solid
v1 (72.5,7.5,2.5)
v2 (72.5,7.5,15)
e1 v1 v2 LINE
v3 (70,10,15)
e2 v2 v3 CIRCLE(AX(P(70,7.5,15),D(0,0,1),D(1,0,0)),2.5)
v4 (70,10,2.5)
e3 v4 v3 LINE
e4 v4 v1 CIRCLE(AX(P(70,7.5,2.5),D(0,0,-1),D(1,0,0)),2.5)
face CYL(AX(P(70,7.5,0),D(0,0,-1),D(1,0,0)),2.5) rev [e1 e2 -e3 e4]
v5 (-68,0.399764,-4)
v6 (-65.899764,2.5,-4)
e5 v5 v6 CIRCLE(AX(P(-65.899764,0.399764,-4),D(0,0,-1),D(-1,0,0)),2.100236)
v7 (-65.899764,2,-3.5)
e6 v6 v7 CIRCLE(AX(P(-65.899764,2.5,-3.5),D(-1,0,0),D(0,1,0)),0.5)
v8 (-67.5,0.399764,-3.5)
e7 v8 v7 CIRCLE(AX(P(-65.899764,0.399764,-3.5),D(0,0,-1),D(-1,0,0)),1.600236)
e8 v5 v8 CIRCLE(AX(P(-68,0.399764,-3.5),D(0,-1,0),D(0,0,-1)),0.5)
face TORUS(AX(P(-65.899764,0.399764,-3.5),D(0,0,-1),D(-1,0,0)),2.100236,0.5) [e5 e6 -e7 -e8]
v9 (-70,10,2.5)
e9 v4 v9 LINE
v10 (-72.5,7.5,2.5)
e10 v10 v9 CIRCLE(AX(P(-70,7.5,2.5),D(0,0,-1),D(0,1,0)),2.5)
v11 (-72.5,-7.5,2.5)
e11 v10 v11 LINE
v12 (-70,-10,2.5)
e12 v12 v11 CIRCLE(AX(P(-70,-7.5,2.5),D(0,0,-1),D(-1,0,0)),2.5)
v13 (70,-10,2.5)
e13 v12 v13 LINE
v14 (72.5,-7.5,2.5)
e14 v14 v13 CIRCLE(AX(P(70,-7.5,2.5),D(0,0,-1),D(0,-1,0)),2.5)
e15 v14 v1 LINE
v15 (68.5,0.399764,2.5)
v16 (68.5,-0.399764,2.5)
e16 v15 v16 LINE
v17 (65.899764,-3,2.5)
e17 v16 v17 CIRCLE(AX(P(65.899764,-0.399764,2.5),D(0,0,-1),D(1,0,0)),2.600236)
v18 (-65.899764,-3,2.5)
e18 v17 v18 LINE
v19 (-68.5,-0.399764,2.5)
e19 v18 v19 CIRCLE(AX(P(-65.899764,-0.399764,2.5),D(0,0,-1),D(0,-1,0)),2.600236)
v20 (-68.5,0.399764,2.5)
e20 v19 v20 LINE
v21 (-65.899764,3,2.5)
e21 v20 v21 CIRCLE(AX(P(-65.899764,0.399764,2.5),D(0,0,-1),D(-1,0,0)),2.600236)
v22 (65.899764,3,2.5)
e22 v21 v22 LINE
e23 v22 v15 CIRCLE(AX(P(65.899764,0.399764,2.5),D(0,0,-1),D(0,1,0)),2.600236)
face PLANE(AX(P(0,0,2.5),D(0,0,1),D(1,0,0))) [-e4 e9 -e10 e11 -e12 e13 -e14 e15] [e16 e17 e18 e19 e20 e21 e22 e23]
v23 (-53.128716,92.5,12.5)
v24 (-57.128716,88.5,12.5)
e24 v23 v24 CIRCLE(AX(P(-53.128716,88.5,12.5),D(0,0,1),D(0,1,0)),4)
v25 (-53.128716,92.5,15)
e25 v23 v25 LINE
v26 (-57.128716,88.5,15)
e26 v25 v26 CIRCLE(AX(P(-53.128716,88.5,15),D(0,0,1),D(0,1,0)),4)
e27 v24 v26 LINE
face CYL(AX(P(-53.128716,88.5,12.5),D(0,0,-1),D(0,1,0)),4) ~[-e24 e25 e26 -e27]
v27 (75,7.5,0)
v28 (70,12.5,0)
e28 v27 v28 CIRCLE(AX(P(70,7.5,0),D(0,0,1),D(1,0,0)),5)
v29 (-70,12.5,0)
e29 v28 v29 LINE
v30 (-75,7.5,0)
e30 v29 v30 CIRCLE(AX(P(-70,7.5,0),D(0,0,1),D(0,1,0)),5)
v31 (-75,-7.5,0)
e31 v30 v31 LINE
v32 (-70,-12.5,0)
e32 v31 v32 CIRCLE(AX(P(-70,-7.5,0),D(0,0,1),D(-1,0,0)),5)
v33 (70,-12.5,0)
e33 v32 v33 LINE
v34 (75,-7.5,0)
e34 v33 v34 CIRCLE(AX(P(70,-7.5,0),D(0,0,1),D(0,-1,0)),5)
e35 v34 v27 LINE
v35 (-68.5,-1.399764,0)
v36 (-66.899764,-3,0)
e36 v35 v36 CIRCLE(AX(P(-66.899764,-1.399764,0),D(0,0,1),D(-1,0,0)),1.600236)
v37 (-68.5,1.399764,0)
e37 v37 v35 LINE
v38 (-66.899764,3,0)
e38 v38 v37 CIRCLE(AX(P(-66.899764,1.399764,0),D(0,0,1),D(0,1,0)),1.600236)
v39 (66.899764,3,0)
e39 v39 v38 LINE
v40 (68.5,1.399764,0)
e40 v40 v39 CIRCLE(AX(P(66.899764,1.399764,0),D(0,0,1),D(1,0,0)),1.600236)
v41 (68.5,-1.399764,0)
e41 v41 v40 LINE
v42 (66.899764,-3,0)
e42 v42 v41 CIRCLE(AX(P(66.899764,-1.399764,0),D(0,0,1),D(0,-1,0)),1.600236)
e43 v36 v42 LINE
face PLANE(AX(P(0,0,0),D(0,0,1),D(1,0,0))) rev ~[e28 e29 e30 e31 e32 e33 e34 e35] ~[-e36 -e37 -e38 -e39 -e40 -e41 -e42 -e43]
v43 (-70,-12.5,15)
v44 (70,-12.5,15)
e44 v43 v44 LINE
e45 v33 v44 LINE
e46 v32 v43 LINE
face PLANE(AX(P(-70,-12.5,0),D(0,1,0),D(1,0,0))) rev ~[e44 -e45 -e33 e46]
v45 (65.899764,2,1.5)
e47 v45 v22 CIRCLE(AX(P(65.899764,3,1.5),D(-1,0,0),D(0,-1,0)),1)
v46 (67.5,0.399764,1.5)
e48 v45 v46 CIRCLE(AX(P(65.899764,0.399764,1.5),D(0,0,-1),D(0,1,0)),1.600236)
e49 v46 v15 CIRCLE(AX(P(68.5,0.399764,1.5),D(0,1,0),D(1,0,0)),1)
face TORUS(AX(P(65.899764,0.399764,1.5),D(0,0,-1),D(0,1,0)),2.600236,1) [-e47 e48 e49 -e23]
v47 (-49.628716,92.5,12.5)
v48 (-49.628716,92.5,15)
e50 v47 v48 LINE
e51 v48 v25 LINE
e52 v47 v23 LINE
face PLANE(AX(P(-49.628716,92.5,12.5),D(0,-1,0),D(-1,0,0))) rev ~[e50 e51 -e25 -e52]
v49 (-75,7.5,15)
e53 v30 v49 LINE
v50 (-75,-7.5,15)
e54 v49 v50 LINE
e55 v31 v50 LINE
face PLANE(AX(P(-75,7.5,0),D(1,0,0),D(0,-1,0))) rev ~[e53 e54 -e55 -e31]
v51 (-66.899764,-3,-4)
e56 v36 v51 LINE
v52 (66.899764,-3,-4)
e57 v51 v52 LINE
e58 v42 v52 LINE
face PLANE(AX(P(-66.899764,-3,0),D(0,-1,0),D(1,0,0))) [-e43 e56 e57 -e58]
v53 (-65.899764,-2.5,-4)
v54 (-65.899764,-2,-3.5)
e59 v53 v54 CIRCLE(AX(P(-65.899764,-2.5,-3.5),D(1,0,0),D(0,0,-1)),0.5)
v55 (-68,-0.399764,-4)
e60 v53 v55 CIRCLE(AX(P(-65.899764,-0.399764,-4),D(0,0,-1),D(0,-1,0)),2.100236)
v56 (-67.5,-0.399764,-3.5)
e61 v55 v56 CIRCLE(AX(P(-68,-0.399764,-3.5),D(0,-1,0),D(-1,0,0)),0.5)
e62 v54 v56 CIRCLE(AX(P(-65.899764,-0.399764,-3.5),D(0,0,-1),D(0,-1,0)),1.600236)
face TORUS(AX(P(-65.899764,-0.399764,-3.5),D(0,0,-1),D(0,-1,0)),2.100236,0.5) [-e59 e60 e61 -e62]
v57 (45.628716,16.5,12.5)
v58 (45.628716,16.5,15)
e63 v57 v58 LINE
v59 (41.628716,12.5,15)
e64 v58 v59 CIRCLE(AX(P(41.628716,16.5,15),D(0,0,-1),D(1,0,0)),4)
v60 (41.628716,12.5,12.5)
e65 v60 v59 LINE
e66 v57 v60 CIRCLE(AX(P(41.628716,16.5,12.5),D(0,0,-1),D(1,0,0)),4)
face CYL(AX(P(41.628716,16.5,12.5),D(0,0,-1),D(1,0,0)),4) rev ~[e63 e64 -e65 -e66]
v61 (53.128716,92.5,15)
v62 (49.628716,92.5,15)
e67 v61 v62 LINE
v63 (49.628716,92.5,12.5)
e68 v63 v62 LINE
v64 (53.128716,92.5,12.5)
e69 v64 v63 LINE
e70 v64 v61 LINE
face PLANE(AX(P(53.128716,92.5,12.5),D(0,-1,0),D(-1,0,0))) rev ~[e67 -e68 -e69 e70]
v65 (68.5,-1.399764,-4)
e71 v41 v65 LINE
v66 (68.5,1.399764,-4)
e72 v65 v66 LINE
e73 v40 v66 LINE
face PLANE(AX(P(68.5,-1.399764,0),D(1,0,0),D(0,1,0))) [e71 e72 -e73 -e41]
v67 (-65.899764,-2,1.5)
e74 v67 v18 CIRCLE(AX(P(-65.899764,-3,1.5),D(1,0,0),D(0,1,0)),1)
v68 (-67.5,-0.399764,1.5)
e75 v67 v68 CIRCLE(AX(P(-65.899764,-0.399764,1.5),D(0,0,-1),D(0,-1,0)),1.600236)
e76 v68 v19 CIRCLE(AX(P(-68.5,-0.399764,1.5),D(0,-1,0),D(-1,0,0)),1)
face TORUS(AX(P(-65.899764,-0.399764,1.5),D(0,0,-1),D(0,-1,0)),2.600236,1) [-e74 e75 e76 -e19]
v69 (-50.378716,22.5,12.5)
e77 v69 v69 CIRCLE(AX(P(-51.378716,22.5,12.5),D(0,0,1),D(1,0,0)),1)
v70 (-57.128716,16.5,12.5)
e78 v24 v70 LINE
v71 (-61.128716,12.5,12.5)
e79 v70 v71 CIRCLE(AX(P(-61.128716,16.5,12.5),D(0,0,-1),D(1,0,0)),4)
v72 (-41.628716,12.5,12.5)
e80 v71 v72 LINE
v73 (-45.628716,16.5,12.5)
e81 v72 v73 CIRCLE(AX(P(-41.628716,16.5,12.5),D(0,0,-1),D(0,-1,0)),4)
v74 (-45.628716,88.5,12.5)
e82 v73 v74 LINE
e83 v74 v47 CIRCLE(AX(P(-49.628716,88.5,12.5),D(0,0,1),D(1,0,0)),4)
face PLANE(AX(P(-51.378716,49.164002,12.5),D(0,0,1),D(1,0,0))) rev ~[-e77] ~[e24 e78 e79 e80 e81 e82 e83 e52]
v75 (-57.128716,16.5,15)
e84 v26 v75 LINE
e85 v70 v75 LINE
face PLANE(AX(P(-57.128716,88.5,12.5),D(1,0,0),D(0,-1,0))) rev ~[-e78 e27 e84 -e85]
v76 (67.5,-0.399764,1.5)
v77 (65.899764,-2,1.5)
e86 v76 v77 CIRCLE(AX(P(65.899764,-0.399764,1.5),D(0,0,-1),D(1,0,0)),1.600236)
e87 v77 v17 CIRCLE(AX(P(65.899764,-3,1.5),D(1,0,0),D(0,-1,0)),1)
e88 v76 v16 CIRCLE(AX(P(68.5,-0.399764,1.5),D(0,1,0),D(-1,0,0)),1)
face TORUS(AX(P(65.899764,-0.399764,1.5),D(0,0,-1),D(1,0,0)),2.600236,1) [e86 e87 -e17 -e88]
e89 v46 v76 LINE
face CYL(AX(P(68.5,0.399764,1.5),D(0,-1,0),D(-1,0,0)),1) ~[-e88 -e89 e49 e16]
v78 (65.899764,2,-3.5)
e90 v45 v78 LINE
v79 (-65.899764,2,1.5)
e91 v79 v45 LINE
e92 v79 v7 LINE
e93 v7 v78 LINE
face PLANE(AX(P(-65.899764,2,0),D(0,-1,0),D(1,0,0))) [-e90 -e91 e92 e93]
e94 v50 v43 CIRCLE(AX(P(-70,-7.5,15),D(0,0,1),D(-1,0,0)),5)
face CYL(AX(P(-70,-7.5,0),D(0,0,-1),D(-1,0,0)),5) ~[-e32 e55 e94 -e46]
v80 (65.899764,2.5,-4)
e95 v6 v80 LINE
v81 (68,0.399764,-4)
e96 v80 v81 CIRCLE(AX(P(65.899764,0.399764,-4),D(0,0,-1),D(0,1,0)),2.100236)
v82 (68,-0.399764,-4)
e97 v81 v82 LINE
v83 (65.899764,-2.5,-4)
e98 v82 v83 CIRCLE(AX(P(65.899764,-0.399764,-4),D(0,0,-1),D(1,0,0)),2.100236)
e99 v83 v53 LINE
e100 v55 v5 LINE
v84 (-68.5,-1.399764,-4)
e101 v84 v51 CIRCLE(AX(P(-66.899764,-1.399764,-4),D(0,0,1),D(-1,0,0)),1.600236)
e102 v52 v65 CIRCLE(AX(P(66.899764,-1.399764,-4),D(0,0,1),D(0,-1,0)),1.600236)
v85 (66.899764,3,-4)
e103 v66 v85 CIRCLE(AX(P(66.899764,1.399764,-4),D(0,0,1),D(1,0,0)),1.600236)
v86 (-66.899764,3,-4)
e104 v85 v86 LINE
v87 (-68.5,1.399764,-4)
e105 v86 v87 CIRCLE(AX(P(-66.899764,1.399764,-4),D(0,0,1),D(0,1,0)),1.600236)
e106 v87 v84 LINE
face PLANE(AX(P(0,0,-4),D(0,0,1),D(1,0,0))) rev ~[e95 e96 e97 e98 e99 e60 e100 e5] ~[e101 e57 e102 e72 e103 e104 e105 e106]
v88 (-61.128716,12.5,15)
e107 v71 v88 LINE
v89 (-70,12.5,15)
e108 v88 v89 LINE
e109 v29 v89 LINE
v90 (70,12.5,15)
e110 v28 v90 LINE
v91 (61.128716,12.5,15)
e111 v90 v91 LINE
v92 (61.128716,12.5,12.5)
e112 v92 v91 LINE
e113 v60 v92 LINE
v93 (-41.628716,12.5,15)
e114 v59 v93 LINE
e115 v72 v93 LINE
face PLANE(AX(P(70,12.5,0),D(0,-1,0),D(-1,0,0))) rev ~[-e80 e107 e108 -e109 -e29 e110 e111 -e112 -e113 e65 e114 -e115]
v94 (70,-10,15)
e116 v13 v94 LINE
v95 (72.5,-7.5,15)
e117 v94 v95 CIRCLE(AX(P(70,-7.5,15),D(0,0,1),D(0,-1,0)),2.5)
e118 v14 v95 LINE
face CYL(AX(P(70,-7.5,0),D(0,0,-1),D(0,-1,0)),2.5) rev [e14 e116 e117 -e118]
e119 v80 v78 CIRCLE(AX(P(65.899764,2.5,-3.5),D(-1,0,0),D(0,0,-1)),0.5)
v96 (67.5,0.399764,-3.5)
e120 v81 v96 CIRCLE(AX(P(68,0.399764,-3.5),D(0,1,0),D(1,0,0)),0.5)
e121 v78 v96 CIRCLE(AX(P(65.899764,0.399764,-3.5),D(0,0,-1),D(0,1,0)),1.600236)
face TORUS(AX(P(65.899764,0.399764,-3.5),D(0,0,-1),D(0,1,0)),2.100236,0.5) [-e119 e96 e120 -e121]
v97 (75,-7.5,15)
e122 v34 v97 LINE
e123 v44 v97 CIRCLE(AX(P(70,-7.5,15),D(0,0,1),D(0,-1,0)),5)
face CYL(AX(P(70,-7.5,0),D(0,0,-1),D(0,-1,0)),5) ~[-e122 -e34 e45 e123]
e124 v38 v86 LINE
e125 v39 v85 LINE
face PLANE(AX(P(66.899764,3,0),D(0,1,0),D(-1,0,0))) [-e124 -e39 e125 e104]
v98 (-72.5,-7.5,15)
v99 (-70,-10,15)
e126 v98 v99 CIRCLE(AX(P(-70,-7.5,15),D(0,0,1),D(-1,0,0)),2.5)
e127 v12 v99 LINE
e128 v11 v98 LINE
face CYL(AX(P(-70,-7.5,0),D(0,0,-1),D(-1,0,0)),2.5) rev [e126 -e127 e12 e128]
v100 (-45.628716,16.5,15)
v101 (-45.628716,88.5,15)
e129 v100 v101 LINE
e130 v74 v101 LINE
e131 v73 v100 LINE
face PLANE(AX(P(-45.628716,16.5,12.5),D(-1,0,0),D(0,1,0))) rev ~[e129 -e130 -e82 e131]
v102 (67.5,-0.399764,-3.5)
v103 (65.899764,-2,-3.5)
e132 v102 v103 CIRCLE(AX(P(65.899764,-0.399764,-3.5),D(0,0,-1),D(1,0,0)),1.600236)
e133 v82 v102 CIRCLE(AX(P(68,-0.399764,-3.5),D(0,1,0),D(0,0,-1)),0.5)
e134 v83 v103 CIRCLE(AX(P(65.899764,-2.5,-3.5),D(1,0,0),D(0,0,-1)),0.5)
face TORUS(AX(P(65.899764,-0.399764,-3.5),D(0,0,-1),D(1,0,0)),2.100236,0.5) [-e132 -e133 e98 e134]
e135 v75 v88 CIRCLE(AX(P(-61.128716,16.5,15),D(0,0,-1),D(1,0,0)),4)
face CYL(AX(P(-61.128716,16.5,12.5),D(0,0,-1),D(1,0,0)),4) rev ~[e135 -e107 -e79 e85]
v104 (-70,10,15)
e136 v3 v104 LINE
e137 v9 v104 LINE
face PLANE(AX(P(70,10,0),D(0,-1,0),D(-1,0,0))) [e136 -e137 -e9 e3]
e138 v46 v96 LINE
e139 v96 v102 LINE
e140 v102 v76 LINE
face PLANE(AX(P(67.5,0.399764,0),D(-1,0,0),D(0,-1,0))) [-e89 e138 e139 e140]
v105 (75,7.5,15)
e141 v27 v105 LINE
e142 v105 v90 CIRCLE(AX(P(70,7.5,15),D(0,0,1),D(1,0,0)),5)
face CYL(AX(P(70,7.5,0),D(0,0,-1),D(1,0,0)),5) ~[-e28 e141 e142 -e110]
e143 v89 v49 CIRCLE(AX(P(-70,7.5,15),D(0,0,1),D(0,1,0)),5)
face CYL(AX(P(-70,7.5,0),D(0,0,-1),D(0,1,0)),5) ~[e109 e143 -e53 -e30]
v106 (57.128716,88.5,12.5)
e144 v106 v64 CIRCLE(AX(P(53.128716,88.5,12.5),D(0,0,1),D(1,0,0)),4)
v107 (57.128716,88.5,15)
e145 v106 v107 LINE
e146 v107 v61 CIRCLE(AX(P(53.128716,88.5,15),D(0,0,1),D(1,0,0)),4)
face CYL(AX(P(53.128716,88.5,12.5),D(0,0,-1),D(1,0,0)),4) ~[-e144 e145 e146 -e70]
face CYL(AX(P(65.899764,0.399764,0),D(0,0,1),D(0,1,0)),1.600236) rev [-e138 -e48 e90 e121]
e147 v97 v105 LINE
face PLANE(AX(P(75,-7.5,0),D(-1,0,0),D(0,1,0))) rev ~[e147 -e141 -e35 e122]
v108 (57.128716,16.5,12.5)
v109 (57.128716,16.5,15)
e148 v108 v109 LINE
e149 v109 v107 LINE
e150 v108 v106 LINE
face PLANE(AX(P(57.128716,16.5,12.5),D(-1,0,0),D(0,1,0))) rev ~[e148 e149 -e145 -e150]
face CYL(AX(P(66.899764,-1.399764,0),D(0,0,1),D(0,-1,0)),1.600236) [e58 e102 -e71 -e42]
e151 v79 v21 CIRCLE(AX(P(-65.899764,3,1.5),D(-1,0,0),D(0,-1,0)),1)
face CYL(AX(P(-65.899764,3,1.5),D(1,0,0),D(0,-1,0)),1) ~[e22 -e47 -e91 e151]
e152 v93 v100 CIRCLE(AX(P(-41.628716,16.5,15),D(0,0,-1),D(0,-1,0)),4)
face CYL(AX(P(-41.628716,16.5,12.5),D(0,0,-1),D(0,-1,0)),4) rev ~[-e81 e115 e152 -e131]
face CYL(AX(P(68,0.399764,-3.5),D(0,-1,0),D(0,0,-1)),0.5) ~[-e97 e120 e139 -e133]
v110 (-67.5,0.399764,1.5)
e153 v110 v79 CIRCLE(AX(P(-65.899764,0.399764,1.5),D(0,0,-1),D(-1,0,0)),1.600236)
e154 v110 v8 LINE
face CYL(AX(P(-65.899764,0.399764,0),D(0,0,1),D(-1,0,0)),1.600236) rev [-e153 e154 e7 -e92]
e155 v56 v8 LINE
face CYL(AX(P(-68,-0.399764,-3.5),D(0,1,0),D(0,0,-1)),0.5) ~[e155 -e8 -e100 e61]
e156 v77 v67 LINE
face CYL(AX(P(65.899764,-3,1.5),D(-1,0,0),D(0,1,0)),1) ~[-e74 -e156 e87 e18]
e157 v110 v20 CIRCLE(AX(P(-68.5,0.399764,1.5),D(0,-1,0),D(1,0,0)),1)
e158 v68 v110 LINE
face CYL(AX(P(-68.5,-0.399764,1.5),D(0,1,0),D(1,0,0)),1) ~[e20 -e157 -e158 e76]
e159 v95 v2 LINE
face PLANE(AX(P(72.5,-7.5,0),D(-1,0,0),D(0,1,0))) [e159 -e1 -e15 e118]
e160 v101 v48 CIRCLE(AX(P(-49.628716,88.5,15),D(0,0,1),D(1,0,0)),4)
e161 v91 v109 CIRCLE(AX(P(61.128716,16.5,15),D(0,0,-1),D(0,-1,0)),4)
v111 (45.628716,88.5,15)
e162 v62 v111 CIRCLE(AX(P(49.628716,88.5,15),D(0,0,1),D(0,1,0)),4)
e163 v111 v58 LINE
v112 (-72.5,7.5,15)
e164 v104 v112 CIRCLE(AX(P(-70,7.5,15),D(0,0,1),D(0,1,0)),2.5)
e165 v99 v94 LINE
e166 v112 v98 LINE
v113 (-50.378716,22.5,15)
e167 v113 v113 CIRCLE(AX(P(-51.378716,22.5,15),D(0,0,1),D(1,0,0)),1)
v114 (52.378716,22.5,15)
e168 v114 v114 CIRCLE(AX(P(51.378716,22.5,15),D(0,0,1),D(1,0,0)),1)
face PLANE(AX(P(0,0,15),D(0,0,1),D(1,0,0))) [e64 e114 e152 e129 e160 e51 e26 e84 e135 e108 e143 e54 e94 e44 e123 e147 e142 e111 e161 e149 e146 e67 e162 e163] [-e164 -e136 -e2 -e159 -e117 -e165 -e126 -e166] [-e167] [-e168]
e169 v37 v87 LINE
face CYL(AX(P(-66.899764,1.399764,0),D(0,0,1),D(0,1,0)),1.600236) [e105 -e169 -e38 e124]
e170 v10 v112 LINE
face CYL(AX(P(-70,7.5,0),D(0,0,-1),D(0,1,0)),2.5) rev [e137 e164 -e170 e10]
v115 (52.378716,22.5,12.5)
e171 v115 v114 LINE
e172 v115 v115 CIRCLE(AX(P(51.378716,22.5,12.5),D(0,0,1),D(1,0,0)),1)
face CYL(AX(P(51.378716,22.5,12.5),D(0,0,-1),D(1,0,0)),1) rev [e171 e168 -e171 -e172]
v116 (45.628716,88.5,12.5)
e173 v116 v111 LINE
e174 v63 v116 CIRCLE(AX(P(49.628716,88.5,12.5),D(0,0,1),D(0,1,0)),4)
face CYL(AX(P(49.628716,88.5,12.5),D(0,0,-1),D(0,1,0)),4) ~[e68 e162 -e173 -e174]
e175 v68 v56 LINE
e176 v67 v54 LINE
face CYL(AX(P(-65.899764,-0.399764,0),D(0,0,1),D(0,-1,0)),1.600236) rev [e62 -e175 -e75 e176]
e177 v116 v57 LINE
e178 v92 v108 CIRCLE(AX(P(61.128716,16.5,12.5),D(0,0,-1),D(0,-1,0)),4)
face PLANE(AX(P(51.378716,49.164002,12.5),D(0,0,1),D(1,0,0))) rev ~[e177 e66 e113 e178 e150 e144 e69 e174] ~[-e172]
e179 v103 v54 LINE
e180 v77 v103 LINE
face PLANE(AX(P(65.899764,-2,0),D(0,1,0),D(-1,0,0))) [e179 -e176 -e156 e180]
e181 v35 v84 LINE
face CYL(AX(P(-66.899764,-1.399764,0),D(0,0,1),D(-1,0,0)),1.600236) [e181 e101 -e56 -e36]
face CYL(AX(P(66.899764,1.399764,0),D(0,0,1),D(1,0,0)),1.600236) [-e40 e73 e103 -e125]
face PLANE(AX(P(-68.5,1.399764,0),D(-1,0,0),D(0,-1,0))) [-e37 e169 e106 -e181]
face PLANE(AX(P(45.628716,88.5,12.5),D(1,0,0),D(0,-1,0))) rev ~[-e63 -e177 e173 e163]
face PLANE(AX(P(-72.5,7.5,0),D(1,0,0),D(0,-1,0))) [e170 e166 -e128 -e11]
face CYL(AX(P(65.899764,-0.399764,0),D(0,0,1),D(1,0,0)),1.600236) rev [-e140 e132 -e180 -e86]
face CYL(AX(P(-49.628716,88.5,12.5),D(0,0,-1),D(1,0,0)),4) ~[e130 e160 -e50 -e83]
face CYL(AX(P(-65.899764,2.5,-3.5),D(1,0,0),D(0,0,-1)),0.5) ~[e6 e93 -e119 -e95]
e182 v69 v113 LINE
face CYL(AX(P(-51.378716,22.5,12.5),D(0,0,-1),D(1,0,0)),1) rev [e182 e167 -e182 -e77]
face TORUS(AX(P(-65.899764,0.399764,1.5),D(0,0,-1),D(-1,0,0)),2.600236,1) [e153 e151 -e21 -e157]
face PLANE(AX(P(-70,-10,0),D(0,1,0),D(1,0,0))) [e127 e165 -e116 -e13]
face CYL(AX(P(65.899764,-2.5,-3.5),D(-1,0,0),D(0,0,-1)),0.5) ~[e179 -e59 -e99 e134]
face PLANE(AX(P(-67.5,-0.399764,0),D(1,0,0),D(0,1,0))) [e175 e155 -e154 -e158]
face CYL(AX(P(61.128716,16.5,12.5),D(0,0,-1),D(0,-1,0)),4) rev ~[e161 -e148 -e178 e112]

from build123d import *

# Parameters (mm, degrees)
F1_DEPTH = 15
F2_T     = -2.5
F3_DEPTH = 3
F4_DEPTH = 4
F5_R     = 0.5
F6_R     = 1
F7_START = 12.5
F0_R     = 1
F7_DEPTH = 2.5


with BuildPart() as f1:
    # F0 (on Top) → F1 (new body)
    with BuildSketch(Plane.XY):
        with BuildLine():
            ThreePointArc((75, 7.5), (73.5355339059, 11.0355339059), (70, 12.5))
            Line((70, 12.5), (61.1287162602, 12.5))
            Line((61.1287162602, 12.5), (41.6287162602, 12.5))
            Line((41.6287162602, 12.5), (-41.6287162602, 12.5))
            Line((-41.6287162602, 12.5), (-61.1287162602, 12.5))
            Line((-61.1287162602, 12.5), (-70, 12.5))
            ThreePointArc((-70, 12.5), (-73.5355339059, 11.0355339059), (-75, 7.5))
            Line((-75, 7.5), (-75, -7.5))
            ThreePointArc((-75, -7.5), (-73.5355339059, -11.0355339059), (-70, -12.5))
            Line((-70, -12.5), (70, -12.5))
            ThreePointArc((70, -12.5), (73.5355339059, -11.0355339059), (75, -7.5))
            Line((75, -7.5), (75, 7.5))
        make_face()
        with BuildLine():
            Line((-66.8997643389, 3), (66.8997643389, 3))
            ThreePointArc((66.8997643389, 3), (68.0313018263, 2.5313018263), (68.5, 1.3997643389))
            Line((68.5, 1.3997643389), (68.5, -1.3997643389))
            ThreePointArc((68.5, -1.3997643389), (68.0313018263, -2.5313018263), (66.8997643389, -3))
            Line((66.8997643389, -3), (-66.8997643389, -3))
            ThreePointArc((-66.8997643389, -3), (-68.0313018263, -2.5313018263), (-68.5, -1.3997643389))
            Line((-68.5, -1.3997643389), (-68.5, 1.3997643389))
            ThreePointArc((-68.5, 1.3997643389), (-68.0313018263, 2.5313018263), (-66.8997643389, 3))
        make_face(mode=Mode.SUBTRACT)
        with BuildLine():
            ThreePointArc((68.5, 1.3997643389), (68.0313018263, 2.5313018263), (66.8997643389, 3))
            Line((66.8997643389, 3), (-66.8997643389, 3))
            ThreePointArc((-66.8997643389, 3), (-68.0313018263, 2.5313018263), (-68.5, 1.3997643389))
            Line((-68.5, 1.3997643389), (-68.5, -1.3997643389))
            ThreePointArc((-68.5, -1.3997643389), (-68.0313018263, -2.5313018263), (-66.8997643389, -3))
            Line((-66.8997643389, -3), (66.8997643389, -3))
            ThreePointArc((66.8997643389, -3), (68.0313018263, -2.5313018263), (68.5, -1.3997643389))
            Line((68.5, -1.3997643389), (68.5, 1.3997643389))
        make_face()
        with BuildLine():
            ThreePointArc((67.5, -0.3997643389), (67.0313018263, -1.5313018263), (65.8997643389, -2))
            Line((65.8997643389, -2), (-65.8997643389, -2))
            ThreePointArc((-65.8997643389, -2), (-67.0313018263, -1.5313018263), (-67.5, -0.3997643389))
            Line((-67.5, -0.3997643389), (-67.5, 0.3997643389))
            ThreePointArc((-67.5, 0.3997643389), (-67.0313018263, 1.5313018263), (-65.8997643389, 2))
            Line((-65.8997643389, 2), (65.8997643389, 2))
            ThreePointArc((65.8997643389, 2), (67.0313018263, 1.5313018263), (67.5, 0.3997643389))
            Line((67.5, 0.3997643389), (67.5, -0.3997643389))
        make_face(mode=Mode.SUBTRACT)
        with BuildLine():
            Line((-65.8997643389, -2), (65.8997643389, -2))
            ThreePointArc((65.8997643389, -2), (67.0313018263, -1.5313018263), (67.5, -0.3997643389))
            Line((67.5, -0.3997643389), (67.5, 0.3997643389))
            ThreePointArc((67.5, 0.3997643389), (67.0313018263, 1.5313018263), (65.8997643389, 2))
            Line((65.8997643389, 2), (-65.8997643389, 2))
            ThreePointArc((-65.8997643389, 2), (-67.0313018263, 1.5313018263), (-67.5, 0.3997643389))
            Line((-67.5, 0.3997643389), (-67.5, -0.3997643389))
            ThreePointArc((-67.5, -0.3997643389), (-67.0313018263, -1.5313018263), (-65.8997643389, -2))
        make_face()
    extrude(amount=F1_DEPTH)

    # F2
    f2_openings = [f1.faces().sort_by_distance(p)[0] for p in [
        (0, 0, 15),
    ]]
    offset(amount=F2_T, openings=f2_openings)

    # F0 (on Top) → F3 (cut)
    with BuildSketch(Plane.XY):
        with BuildLine():
            Line((-65.8997643389, -2), (65.8997643389, -2))
            ThreePointArc((65.8997643389, -2), (67.0313018263, -1.5313018263), (67.5, -0.3997643389))
            Line((67.5, -0.3997643389), (67.5, 0.3997643389))
            ThreePointArc((67.5, 0.3997643389), (67.0313018263, 1.5313018263), (65.8997643389, 2))
            Line((65.8997643389, 2), (-65.8997643389, 2))
            ThreePointArc((-65.8997643389, 2), (-67.0313018263, 1.5313018263), (-67.5, 0.3997643389))
            Line((-67.5, 0.3997643389), (-67.5, -0.3997643389))
            ThreePointArc((-67.5, -0.3997643389), (-67.0313018263, -1.5313018263), (-65.8997643389, -2))
        make_face()
    extrude(amount=F3_DEPTH, mode=Mode.SUBTRACT)

    # F0 (on Top) → F4 (join)
    with BuildSketch(Plane.XY):
        with BuildLine():
            ThreePointArc((68.5, 1.3997643389), (68.0313018263, 2.5313018263), (66.8997643389, 3))
            Line((66.8997643389, 3), (-66.8997643389, 3))
            ThreePointArc((-66.8997643389, 3), (-68.0313018263, 2.5313018263), (-68.5, 1.3997643389))
            Line((-68.5, 1.3997643389), (-68.5, -1.3997643389))
            ThreePointArc((-68.5, -1.3997643389), (-68.0313018263, -2.5313018263), (-66.8997643389, -3))
            Line((-66.8997643389, -3), (66.8997643389, -3))
            ThreePointArc((66.8997643389, -3), (68.0313018263, -2.5313018263), (68.5, -1.3997643389))
            Line((68.5, -1.3997643389), (68.5, 1.3997643389))
        make_face()
        with BuildLine():
            ThreePointArc((67.5, -0.3997643389), (67.0313018263, -1.5313018263), (65.8997643389, -2))
            Line((65.8997643389, -2), (-65.8997643389, -2))
            ThreePointArc((-65.8997643389, -2), (-67.0313018263, -1.5313018263), (-67.5, -0.3997643389))
            Line((-67.5, -0.3997643389), (-67.5, 0.3997643389))
            ThreePointArc((-67.5, 0.3997643389), (-67.0313018263, 1.5313018263), (-65.8997643389, 2))
            Line((-65.8997643389, 2), (65.8997643389, 2))
            ThreePointArc((65.8997643389, 2), (67.0313018263, 1.5313018263), (67.5, 0.3997643389))
            Line((67.5, 0.3997643389), (67.5, -0.3997643389))
        make_face(mode=Mode.SUBTRACT)
    extrude(amount=-F4_DEPTH)

    # F5
    f5_edges = [f1.edges().sort_by_distance(p)[0] for p in [
        (0, -2, -4),
        (-67.031302, -1.531302, -4),
    ]]
    fillet(f5_edges, radius=F5_R)

    # F6
    f6_edges = [f1.edges().sort_by_distance(p)[0] for p in [
        (0, 2, 2.5),
    ]]
    fillet(f6_edges, radius=F6_R)

    # F0 (on Top) → F7 (join)
    with BuildSketch(Plane.XY.offset(F7_START)):
        with BuildLine():
            Line((41.6287162602, 12.5), (61.1287162602, 12.5))
            ThreePointArc((61.1287162602, 12.5), (58.3002891354, 13.6715728753), (57.1287162602, 16.5))
            Line((57.1287162602, 16.5), (57.1287162602, 88.5))
            ThreePointArc((57.1287162602, 88.5), (55.9571433849, 91.3284271247), (53.1287162602, 92.5))
            Line((53.1287162602, 92.5), (49.6287162602, 92.5))
            ThreePointArc((49.6287162602, 92.5), (46.8002891354, 91.3284271247), (45.6287162602, 88.5))
            Line((45.6287162602, 88.5), (45.6287162602, 16.5))
            ThreePointArc((45.6287162602, 16.5), (44.4571433849, 13.6715728753), (41.6287162602, 12.5))
        make_face()
        with Locations((51.3787162602, 22.5)):
            Circle(F0_R, mode=Mode.SUBTRACT)
        with BuildLine():
            Line((-61.1287162602, 12.5), (-41.6287162602, 12.5))
            ThreePointArc((-41.6287162602, 12.5), (-44.4571433849, 13.6715728753), (-45.6287162602, 16.5))
            Line((-45.6287162602, 16.5), (-45.6287162602, 88.5))
            ThreePointArc((-45.6287162602, 88.5), (-46.8002891354, 91.3284271247), (-49.6287162602, 92.5))
            Line((-49.6287162602, 92.5), (-53.1287162602, 92.5))
            ThreePointArc((-53.1287162602, 92.5), (-55.9571433849, 91.3284271247), (-57.1287162602, 88.5))
            Line((-57.1287162602, 88.5), (-57.1287162602, 16.5))
            ThreePointArc((-57.1287162602, 16.5), (-58.3002891354, 13.6715728753), (-61.1287162602, 12.5))
        make_face()
        with Locations((-51.3787162602, 22.5)):
            Circle(F0_R, mode=Mode.SUBTRACT)
    extrude(amount=F7_DEPTH)


solid = f1.part
